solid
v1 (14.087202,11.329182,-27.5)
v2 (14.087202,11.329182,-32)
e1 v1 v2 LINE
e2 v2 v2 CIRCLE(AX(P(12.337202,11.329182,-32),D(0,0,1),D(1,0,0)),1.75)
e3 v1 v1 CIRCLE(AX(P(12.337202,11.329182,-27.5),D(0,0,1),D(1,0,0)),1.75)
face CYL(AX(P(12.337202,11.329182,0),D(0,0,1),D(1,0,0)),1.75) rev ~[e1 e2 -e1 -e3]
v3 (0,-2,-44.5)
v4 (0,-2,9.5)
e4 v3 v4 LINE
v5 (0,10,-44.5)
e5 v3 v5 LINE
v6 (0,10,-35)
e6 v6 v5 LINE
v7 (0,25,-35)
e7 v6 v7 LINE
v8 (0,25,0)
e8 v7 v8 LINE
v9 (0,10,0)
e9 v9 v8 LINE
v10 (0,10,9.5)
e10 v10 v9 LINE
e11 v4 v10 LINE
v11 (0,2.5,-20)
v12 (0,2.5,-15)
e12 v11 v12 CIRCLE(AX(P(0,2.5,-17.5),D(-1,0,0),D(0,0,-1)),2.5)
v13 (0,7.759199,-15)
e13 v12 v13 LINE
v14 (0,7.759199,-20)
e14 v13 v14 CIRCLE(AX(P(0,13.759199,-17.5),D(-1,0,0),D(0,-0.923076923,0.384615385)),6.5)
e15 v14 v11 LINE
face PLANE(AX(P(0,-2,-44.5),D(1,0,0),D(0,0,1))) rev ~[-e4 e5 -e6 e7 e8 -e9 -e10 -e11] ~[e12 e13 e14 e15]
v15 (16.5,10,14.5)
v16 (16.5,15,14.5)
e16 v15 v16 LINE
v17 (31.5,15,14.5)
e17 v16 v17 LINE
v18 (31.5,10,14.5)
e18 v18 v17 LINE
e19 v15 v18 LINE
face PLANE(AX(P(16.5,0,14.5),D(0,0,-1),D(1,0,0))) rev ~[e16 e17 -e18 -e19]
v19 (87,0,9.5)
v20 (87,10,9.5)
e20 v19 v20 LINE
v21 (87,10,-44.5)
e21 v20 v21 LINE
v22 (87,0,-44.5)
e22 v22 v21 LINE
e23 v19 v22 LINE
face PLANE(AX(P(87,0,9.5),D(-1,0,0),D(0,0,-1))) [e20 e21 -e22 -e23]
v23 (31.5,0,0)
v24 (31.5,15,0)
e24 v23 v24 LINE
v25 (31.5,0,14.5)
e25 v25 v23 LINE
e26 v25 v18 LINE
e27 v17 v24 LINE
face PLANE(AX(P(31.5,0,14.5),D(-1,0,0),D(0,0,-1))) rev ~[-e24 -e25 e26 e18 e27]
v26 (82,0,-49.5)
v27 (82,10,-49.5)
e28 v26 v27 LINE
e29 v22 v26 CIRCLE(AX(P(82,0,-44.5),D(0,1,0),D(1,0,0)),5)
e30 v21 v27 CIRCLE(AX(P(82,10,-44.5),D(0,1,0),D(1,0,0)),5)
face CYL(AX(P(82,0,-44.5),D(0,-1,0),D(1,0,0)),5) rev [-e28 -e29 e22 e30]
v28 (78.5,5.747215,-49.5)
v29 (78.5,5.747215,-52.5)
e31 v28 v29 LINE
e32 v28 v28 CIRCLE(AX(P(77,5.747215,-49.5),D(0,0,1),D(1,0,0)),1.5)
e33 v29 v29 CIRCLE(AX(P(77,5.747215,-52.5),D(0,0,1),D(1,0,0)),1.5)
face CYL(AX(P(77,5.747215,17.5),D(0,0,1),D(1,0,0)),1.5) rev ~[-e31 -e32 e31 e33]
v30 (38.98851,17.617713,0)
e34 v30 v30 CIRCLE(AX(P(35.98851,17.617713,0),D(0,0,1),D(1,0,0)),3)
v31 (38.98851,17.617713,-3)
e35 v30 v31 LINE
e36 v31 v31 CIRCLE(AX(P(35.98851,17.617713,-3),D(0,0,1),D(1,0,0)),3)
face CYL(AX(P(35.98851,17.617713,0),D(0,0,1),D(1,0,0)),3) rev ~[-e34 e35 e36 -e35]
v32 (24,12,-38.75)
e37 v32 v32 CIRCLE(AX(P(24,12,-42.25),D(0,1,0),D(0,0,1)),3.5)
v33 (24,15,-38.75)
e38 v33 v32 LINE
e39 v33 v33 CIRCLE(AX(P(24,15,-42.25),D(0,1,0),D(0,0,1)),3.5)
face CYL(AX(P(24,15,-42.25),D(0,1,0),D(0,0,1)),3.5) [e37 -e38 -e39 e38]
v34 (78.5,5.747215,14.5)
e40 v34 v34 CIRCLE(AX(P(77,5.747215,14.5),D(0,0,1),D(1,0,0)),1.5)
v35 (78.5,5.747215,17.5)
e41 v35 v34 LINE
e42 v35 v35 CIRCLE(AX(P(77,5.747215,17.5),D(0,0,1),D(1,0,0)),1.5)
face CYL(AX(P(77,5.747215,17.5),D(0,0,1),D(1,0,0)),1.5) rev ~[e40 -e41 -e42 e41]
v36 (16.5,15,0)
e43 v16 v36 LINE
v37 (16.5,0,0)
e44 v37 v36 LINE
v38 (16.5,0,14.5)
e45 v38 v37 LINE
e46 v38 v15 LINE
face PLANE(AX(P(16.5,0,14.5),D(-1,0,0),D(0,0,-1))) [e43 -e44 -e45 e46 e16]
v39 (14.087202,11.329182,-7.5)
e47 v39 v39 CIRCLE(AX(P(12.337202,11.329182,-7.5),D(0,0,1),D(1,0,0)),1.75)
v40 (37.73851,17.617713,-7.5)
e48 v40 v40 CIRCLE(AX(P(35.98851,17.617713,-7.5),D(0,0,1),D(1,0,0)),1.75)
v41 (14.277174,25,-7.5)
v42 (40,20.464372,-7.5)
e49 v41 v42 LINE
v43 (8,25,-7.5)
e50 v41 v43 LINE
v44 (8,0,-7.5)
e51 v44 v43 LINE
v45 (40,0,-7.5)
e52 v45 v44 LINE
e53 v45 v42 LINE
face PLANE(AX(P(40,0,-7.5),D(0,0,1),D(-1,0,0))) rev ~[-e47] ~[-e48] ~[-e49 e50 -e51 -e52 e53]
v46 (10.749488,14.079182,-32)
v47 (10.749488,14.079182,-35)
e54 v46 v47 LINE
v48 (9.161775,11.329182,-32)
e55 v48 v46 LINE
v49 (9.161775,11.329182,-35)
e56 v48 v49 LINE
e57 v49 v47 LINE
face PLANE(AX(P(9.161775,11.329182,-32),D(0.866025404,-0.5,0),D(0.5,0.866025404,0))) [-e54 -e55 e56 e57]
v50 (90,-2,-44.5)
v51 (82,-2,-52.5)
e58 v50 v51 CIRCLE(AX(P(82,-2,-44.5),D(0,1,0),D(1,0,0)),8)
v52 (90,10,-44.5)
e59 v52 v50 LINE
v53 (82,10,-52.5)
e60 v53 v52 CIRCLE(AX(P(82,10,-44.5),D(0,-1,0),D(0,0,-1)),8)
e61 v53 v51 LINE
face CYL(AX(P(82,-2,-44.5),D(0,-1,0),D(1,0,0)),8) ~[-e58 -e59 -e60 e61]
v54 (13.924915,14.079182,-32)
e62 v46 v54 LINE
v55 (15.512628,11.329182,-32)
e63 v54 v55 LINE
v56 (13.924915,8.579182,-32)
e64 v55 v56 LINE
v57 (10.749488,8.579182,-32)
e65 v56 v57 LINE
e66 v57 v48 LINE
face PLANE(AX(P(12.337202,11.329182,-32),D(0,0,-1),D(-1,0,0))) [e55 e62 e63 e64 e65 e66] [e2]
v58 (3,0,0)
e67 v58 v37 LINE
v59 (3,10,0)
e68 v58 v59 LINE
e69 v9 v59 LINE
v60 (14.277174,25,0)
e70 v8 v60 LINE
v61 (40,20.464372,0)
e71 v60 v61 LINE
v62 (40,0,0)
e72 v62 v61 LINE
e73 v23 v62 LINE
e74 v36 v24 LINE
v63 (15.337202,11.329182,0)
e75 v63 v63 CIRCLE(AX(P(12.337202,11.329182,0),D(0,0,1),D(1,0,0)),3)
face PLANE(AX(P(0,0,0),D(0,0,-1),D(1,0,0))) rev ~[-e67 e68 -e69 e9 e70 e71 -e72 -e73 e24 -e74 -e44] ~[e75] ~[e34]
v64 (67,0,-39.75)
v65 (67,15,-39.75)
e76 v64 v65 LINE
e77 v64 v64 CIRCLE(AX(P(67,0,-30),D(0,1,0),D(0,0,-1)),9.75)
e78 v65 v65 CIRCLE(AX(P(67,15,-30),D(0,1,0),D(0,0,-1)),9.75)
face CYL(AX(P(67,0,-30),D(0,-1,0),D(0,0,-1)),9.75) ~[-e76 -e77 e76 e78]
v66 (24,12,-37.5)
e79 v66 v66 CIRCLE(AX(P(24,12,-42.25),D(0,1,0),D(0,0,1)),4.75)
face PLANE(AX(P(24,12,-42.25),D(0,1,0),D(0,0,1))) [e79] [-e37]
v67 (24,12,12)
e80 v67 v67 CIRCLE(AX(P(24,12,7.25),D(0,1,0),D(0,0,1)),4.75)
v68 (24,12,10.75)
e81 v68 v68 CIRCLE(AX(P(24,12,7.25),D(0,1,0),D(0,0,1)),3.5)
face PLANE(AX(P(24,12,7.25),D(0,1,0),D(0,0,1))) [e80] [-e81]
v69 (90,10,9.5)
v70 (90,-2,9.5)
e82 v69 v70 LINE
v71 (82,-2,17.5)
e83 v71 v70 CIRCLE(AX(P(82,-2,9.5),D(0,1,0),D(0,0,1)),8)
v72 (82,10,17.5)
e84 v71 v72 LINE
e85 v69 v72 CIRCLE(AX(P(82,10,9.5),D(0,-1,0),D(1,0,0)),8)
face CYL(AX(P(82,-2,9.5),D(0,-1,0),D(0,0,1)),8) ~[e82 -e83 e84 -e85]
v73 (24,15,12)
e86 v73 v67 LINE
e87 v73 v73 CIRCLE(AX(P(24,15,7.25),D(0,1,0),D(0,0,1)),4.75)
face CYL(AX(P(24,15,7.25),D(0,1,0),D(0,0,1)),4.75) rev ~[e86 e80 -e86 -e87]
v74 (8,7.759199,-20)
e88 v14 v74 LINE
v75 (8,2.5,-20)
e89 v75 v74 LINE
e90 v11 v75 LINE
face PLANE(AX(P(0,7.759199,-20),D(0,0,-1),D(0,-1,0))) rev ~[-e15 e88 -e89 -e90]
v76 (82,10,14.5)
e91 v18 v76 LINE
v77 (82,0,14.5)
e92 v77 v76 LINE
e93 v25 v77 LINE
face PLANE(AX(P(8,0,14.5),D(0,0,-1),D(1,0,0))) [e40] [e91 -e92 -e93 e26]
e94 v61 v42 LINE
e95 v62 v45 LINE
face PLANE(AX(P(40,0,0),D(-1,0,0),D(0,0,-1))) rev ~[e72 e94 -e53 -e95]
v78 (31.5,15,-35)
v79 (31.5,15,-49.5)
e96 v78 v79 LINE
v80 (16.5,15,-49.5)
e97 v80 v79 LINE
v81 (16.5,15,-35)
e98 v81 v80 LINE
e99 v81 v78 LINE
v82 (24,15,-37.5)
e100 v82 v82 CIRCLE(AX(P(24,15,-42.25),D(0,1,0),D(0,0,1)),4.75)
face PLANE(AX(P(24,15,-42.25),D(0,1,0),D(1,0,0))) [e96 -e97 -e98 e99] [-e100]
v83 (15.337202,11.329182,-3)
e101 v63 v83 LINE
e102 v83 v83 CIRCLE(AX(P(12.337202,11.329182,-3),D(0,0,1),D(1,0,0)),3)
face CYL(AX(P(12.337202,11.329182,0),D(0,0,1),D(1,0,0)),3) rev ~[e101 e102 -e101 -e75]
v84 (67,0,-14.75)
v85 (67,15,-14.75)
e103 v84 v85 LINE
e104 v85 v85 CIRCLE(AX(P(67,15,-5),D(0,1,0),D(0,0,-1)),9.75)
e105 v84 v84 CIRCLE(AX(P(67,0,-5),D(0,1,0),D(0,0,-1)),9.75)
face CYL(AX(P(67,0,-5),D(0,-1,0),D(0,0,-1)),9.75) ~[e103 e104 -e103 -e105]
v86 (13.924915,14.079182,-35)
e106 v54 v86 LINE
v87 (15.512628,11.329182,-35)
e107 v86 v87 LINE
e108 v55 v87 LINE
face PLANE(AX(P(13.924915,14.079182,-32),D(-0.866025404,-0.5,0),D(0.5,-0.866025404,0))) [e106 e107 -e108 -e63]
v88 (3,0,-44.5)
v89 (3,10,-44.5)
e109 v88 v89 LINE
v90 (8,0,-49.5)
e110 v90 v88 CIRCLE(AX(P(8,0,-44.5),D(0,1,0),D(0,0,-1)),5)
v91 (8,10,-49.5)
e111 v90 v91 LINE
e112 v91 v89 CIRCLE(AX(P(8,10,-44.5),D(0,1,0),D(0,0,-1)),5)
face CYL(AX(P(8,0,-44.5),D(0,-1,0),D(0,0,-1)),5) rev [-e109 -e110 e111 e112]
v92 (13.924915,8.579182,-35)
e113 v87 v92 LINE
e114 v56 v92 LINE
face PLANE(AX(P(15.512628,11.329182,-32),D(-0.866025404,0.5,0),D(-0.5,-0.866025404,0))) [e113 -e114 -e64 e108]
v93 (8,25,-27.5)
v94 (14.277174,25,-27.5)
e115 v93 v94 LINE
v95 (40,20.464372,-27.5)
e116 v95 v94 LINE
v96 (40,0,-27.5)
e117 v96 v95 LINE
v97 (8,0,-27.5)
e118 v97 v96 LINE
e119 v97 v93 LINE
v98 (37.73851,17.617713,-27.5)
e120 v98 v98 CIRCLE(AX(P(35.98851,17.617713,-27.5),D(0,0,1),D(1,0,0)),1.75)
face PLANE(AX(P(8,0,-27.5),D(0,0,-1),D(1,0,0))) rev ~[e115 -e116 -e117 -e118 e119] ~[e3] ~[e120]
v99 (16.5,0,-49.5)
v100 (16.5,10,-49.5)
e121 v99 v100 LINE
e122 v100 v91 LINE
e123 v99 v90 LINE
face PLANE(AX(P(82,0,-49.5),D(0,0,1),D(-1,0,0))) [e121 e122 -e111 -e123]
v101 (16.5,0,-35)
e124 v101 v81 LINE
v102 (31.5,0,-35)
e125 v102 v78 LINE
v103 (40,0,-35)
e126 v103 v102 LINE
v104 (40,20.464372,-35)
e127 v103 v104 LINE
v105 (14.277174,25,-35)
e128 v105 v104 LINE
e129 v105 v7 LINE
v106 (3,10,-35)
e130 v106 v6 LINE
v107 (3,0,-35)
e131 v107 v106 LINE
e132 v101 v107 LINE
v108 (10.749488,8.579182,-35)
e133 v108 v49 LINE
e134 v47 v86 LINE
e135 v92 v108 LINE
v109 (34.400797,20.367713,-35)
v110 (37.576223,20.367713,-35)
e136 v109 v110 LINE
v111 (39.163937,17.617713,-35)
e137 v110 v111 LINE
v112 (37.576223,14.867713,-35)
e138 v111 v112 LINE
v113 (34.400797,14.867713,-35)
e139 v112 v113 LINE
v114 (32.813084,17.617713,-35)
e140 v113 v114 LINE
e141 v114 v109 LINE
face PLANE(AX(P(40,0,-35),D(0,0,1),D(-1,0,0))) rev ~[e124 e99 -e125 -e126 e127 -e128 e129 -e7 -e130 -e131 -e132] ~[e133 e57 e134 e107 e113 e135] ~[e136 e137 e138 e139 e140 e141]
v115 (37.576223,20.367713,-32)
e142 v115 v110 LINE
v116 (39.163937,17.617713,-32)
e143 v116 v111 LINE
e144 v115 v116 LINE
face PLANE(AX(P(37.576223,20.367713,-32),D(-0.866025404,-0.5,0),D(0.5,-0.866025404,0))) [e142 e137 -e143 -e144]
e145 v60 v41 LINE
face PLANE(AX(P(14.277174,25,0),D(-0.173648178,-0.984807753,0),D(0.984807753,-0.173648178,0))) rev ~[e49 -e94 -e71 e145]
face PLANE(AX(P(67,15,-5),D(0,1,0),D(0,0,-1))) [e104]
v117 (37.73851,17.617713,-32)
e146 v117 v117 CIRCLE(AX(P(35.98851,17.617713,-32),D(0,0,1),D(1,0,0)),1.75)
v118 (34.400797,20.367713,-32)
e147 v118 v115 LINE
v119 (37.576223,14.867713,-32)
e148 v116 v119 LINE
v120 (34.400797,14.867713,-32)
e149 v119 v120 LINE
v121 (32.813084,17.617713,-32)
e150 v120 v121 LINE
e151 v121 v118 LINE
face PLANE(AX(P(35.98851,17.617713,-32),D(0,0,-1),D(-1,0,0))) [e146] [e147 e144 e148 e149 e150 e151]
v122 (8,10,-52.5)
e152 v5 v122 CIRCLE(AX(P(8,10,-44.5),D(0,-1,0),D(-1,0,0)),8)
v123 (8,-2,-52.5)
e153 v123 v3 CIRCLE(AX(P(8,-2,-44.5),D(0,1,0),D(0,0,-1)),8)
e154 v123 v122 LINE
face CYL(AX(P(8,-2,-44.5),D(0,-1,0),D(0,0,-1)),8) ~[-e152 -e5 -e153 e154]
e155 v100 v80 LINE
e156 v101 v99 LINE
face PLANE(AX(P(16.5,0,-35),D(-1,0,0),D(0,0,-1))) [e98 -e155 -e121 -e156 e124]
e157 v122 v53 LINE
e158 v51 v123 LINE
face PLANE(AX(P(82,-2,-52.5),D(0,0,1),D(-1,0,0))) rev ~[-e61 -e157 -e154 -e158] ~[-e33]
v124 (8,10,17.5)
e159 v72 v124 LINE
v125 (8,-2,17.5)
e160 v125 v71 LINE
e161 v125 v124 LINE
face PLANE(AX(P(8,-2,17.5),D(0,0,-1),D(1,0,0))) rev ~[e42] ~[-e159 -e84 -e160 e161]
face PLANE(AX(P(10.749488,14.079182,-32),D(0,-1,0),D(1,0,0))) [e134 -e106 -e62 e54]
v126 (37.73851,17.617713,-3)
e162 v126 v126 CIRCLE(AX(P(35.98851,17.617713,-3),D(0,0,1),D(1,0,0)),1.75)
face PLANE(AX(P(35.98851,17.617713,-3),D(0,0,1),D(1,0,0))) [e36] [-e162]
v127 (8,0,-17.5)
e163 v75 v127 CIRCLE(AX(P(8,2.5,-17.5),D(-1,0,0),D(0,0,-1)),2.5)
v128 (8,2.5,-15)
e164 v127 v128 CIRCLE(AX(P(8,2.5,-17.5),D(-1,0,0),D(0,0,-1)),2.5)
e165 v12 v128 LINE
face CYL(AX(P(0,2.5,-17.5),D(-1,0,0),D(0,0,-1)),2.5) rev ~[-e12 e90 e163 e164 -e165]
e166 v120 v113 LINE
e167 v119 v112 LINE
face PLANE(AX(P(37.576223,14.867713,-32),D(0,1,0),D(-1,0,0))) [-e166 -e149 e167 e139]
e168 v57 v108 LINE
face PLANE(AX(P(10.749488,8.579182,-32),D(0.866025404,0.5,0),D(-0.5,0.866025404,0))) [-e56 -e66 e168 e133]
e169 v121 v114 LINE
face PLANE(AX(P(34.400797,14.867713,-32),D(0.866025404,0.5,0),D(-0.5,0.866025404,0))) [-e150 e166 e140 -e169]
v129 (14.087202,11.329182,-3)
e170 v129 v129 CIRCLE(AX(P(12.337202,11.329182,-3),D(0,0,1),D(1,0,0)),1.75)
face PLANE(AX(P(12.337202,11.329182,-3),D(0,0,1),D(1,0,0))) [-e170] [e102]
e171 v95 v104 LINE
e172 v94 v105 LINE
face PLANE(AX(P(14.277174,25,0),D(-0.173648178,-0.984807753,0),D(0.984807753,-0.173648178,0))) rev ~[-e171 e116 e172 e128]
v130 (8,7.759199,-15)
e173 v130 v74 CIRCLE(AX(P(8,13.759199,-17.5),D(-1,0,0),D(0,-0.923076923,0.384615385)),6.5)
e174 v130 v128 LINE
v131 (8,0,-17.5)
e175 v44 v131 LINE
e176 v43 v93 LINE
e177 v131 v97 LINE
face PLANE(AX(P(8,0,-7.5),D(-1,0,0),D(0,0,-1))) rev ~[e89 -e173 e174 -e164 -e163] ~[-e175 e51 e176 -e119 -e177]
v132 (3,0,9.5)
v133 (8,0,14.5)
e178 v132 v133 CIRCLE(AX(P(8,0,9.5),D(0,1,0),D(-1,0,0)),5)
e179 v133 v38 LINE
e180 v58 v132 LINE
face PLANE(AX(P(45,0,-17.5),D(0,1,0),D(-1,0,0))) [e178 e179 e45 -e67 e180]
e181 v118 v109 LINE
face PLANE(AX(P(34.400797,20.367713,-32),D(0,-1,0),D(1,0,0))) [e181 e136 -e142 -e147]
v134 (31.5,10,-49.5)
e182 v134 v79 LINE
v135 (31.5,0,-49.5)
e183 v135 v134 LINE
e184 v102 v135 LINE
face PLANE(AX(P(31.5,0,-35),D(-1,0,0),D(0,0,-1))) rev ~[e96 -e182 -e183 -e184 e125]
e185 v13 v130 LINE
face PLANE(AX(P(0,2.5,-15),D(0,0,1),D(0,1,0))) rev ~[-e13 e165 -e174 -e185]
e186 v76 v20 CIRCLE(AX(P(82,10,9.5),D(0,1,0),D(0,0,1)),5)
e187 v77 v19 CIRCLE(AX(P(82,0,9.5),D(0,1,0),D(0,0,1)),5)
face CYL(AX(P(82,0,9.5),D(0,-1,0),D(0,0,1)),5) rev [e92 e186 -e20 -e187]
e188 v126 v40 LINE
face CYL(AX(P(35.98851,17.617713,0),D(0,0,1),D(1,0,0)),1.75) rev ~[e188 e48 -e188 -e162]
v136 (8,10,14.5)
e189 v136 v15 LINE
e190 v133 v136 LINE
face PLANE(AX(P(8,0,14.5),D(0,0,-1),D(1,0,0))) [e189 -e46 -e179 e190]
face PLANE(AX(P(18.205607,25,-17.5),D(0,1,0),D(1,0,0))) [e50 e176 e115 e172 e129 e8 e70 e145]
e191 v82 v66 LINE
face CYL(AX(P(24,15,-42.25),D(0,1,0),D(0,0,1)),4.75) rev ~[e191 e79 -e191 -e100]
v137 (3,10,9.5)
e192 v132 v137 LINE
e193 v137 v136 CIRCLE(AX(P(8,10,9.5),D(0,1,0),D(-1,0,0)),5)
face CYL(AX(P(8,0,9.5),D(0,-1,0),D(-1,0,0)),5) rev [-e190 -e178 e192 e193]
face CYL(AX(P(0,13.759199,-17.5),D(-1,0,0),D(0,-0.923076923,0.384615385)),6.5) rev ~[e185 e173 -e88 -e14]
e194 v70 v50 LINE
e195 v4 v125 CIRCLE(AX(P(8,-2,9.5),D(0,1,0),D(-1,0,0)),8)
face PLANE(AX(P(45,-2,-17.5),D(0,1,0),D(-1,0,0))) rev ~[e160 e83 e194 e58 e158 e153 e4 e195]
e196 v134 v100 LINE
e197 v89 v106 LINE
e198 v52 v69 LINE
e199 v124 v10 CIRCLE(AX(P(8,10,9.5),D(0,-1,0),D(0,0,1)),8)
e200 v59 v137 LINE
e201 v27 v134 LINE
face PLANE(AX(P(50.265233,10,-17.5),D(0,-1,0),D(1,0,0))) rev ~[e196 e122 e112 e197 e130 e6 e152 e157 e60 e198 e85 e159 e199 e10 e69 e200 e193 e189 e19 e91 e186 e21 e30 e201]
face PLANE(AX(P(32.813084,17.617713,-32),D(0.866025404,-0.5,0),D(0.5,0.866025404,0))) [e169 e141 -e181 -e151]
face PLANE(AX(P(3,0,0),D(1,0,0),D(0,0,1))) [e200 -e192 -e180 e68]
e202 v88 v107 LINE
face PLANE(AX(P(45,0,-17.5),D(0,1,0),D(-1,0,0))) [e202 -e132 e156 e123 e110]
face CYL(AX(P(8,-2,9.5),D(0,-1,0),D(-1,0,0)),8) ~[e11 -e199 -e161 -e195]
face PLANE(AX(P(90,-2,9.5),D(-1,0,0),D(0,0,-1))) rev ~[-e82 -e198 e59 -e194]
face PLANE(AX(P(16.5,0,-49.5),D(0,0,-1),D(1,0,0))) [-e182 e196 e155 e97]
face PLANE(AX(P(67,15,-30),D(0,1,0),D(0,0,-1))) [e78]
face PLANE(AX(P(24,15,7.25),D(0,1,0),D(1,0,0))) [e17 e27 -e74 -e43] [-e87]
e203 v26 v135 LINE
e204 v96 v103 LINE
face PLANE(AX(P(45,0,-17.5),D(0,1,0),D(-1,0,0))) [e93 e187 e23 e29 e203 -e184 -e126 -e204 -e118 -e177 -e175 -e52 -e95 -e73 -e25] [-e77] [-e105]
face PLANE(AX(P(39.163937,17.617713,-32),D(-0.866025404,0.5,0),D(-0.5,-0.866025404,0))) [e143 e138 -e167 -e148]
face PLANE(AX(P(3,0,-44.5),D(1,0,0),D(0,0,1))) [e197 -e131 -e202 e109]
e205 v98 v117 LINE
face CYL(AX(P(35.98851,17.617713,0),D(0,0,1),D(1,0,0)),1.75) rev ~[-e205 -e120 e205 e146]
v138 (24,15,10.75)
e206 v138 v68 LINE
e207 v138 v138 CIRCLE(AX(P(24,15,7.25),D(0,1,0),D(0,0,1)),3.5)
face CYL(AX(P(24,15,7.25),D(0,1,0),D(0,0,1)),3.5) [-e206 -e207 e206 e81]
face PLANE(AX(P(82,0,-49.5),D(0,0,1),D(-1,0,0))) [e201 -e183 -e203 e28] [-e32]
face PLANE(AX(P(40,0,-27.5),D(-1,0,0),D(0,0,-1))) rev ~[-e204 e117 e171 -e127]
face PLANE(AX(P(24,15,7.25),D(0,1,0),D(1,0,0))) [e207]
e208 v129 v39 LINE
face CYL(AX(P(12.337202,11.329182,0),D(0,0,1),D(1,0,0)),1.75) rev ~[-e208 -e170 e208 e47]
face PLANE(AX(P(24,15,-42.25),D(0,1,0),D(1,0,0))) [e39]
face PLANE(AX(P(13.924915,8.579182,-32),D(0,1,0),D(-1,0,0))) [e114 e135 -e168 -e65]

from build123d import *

# Parameters (mm, degrees)
BOSS_EXTRUDE1_DEPTH = 25
CUT_EXTRUDE1_REACH  = 60.737
SKETCH2_R           = 1.75
BOSS_EXTRUDE2_DEPTH = 10
BOSS_EXTRUDE3_START = 2
BOSS_EXTRUDE3_DEPTH = 2
SKETCH5_R           = 1.5
CUT_EXTRUDE2_DEPTH  = 117.726175299
SKETCH6_R           = 3
SKETCH6_R_2         = 1.75
CUT_EXTRUDE3_DEPTH  = 3
CUT_EXTRUDE4_START  = -3
SKETCH7_R           = 1.75
CUT_EXTRUDE4_DEPTH  = 3
SKETCH8_W           = 15
SKETCH8_H           = 14.5
BOSS_EXTRUDE4_DEPTH = 15
SKETCH9_R           = 4.75
SKETCH9_R_2         = 3.5
CUT_EXTRUDE5_DEPTH  = 3
SKETCH11_R          = 9.75
BOSS_EXTRUDE5_DEPTH = 15
CUT_EXTRUDE6_REACH  = 109.151


with BuildPart() as part:
    # Sketch1 → Boss-Extrude1 (new body)
    with BuildSketch(Plane(origin=(0, 0, 0), x_dir=(1, 0, 0), z_dir=(0, 1, 0))):
        Polygon((40, 7.5), (8, 7.5), (8, 27.5), (40, 27.5), (40, 35), (0, 35), (0, 0), (40, 0), align=None)
    extrude(amount=BOSS_EXTRUDE1_DEPTH)

    # Cut-Extrude1: up to this face of the body (flat: up to its plane)
    cut_extrude1_end = Plane(part.part.faces().sort_by_distance((20, 12.5, -35))[0])
    # Sketch2 → Cut-Extrude1 (cut, up to the picked face)
    with BuildSketch(Plane.XY, mode=Mode.PRIVATE) as cut_extrude1_sk1:
        with Locations((35.988510068, 17.617712577)):
            Circle(SKETCH2_R)
    cut_extrude1_tool1 = split(extrude(cut_extrude1_sk1.sketch, amount=-CUT_EXTRUDE1_REACH, mode=Mode.PRIVATE), bisect_by=cut_extrude1_end, keep=Keep.BOTH, mode=Mode.PRIVATE)
    # Sketch2 → Cut-Extrude1 (cut, up to the picked face)
    with BuildSketch(Plane.XY, mode=Mode.PRIVATE) as cut_extrude1_sk2:
        with Locations((12.337201721, 11.329182265)):
            Circle(SKETCH2_R)
    cut_extrude1_tool2 = split(extrude(cut_extrude1_sk2.sketch, amount=-CUT_EXTRUDE1_REACH, mode=Mode.PRIVATE), bisect_by=cut_extrude1_end, keep=Keep.BOTH, mode=Mode.PRIVATE)
    # Sketch2 → Cut-Extrude1 (cut, up to the picked face)
    with BuildSketch(Plane.XY, mode=Mode.PRIVATE) as cut_extrude1_sk3:
        Polygon((40, 25), (14.27717431, 25), (40, 20.464371811), align=None)
    cut_extrude1_tool3 = split(extrude(cut_extrude1_sk3.sketch, amount=-CUT_EXTRUDE1_REACH, mode=Mode.PRIVATE), bisect_by=cut_extrude1_end, keep=Keep.BOTH, mode=Mode.PRIVATE)
    add(cut_extrude1_tool1.solids().sort_by(Axis((35.98851, 17.617713, 0), (0, 0, -1)))[0], mode=Mode.SUBTRACT)
    add(cut_extrude1_tool2.solids().sort_by(Axis((12.337202, 11.329182, 0), (0, 0, -1)))[0], mode=Mode.SUBTRACT)
    add(cut_extrude1_tool3.solids().sort_by(Axis((31.425725, 23.488124, 0), (0, 0, -1)))[0], mode=Mode.SUBTRACT)

    # Sketch3 → Boss-Extrude2 (add)
    with BuildSketch(Plane.XZ):
        with BuildLine():
            ThreePointArc((82, 14.5), (85.535533906, 13.035533906), (87, 9.5))
            Line((87, 9.5), (87, -44.5))
            ThreePointArc((87, -44.5), (85.535533906, -48.035533906), (82, -49.5))
            Line((82, -49.5), (8, -49.5))
            ThreePointArc((8, -49.5), (4.464466094, -48.035533906), (3, -44.5))
            Line((3, -44.5), (3, -35))
            Line((3, -35), (0, -35))
            Line((0, -35), (0, -44.5))
            ThreePointArc((0, -44.5), (2.343145751, -50.156854249), (8, -52.5))
            Line((8, -52.5), (82, -52.5))
            ThreePointArc((82, -52.5), (87.656854249, -50.156854249), (90, -44.5))
            Line((90, -44.5), (90, 9.5))
            ThreePointArc((90, 9.5), (87.656854249, 15.156854249), (82, 17.5))
            Line((82, 17.5), (8, 17.5))
            ThreePointArc((8, 17.5), (2.343145751, 15.156854249), (0, 9.5))
            Line((0, 9.5), (0, 0))
            Line((0, 0), (3, 0))
            Line((3, 0), (3, 9.5))
            ThreePointArc((3, 9.5), (4.464466094, 13.035533906), (8, 14.5))
            Line((8, 14.5), (82, 14.5))
        make_face()
    extrude(amount=-BOSS_EXTRUDE2_DEPTH)

    # Sketch4 → Boss-Extrude3 (add)
    with BuildSketch(Plane.XZ.offset(BOSS_EXTRUDE3_START)):
        with BuildLine():
            Line((82, -52.5), (8, -52.5))
            ThreePointArc((8, -52.5), (2.343145751, -50.156854249), (0, -44.5))
            Line((0, -44.5), (0, 9.5))
            ThreePointArc((0, 9.5), (2.343145751, 15.156854249), (8, 17.5))
            Line((8, 17.5), (82, 17.5))
            ThreePointArc((82, 17.5), (87.656854249, 15.156854249), (90, 9.5))
            Line((90, 9.5), (90, -44.5))
            ThreePointArc((90, -44.5), (87.656854249, -50.156854249), (82, -52.5))
        make_face()
    extrude(amount=-BOSS_EXTRUDE3_DEPTH)

    # Sketch5 → Cut-Extrude2 (cut, through all)
    with BuildSketch(Plane.XY.offset(17.5)):
        with Locations((77, 5.747215229)):
            Circle(SKETCH5_R)
    extrude(amount=-CUT_EXTRUDE2_DEPTH, mode=Mode.SUBTRACT)

    # Sketch6 → Cut-Extrude3 (cut)
    # profile 1 of 2: a face of its own
    with BuildSketch(Plane.XY):
        with Locations((12.337201721, 11.329182265)):
            Circle(SKETCH6_R)
        with Locations((12.337201721, 11.329182265)):
            Circle(SKETCH6_R_2, mode=Mode.SUBTRACT)
    # profile 2 of 2: a face of its own
    with BuildSketch(Plane.XY):
        with Locations((35.988510068, 17.617712577)):
            Circle(SKETCH6_R)
        with Locations((35.988510068, 17.617712577)):
            Circle(SKETCH6_R_2, mode=Mode.SUBTRACT)
    extrude(amount=-CUT_EXTRUDE3_DEPTH, mode=Mode.SUBTRACT)

    # Sketch7 → Cut-Extrude4 (cut)
    # profile 1 of 2: a face of its own
    with BuildSketch(Plane(origin=(0, 0, -35), x_dir=(-1, 0, 0), z_dir=(0, 0, -1)).offset(CUT_EXTRUDE4_START)):
        Polygon((-37.576223308, 14.867712577), (-34.400796828, 14.867712577), (-32.813083587, 17.617712577), (-34.400796828, 20.367712577), (-37.576223308, 20.367712577), (-39.163936548, 17.617712577), align=None)
        with Locations((-35.988510068, 17.617712577)):
            Circle(SKETCH7_R, mode=Mode.SUBTRACT)
    # profile 2 of 2: a face of its own
    with BuildSketch(Plane(origin=(0, 0, -35), x_dir=(-1, 0, 0), z_dir=(0, 0, -1)).offset(CUT_EXTRUDE4_START)):
        Polygon((-13.924914961, 8.579182265), (-10.749488481, 8.579182265), (-9.16177524, 11.329182265), (-10.749488481, 14.079182265), (-13.924914961, 14.079182265), (-15.512628201, 11.329182265), align=None)
        with Locations((-12.337201721, 11.329182265)):
            Circle(SKETCH7_R, mode=Mode.SUBTRACT)
    extrude(amount=CUT_EXTRUDE4_DEPTH, mode=Mode.SUBTRACT)

    # Sketch8 → Boss-Extrude4 (add)
    with BuildSketch(Plane(origin=(0, 0, 0), x_dir=(1, 0, 0), z_dir=(0, 1, 0))):
        with Locations((24, -7.25)):
            Rectangle(SKETCH8_W, SKETCH8_H)
        with Locations((24, 42.25)):
            Rectangle(SKETCH8_W, SKETCH8_H)
    extrude(amount=BOSS_EXTRUDE4_DEPTH)

    # Sketch9 → Cut-Extrude5 (cut)
    # profile 1 of 2: a face of its own
    with BuildSketch(Plane(origin=(0, 15, 0), x_dir=(1, 0, 0), z_dir=(0, 1, 0))):
        with Locations(Location((24, 42.25, 0), (0, 0, 270))):
            Circle(SKETCH9_R)
        with Locations(Location((24, 42.25, 0), (0, 0, 270))):
            Circle(SKETCH9_R_2, mode=Mode.SUBTRACT)
    # profile 2 of 2: a face of its own
    with BuildSketch(Plane(origin=(0, 15, 0), x_dir=(1, 0, 0), z_dir=(0, 1, 0))):
        with Locations(Location((24, -7.25, 0), (0, 0, 270))):
            Circle(SKETCH9_R)
        with Locations(Location((24, -7.25, 0), (0, 0, 270))):
            Circle(SKETCH9_R_2, mode=Mode.SUBTRACT)
    extrude(amount=-CUT_EXTRUDE5_DEPTH, mode=Mode.SUBTRACT)

    # Sketch11 → Boss-Extrude5 (add)
    with BuildSketch(Plane(origin=(0, 0, 0), x_dir=(1, 0, 0), z_dir=(0, 1, 0))):
        with Locations(Location((67, 30, 0), (0, 0, 90))):
            Circle(SKETCH11_R)
        with Locations(Location((67, 5, 0), (0, 0, 90))):
            Circle(SKETCH11_R)
    extrude(amount=BOSS_EXTRUDE5_DEPTH)

    # Sketch12 → Cut-Extrude6 (cut, up to next)
    with BuildSketch(Plane.ZY, mode=Mode.PRIVATE) as cut_extrude6_sk1:
        with BuildLine():
            Line((-20, 7.759198983), (-20, 2.5))
            ThreePointArc((-20, 2.5), (-17.5, 0), (-15, 2.5))
            Line((-15, 2.5), (-15, 7.759198983))
            ThreePointArc((-15, 7.759198983), (-17.5, 20.259198983), (-20, 7.759198983))
        make_face()
    cut_extrude6_tool1 = extrude(cut_extrude6_sk1.sketch, amount=-CUT_EXTRUDE6_REACH, mode=Mode.PRIVATE) & part.part
    add(cut_extrude6_tool1.solids().sort_by_distance((0, 11.74048, -17.5))[0], mode=Mode.SUBTRACT)


solid = part.part
